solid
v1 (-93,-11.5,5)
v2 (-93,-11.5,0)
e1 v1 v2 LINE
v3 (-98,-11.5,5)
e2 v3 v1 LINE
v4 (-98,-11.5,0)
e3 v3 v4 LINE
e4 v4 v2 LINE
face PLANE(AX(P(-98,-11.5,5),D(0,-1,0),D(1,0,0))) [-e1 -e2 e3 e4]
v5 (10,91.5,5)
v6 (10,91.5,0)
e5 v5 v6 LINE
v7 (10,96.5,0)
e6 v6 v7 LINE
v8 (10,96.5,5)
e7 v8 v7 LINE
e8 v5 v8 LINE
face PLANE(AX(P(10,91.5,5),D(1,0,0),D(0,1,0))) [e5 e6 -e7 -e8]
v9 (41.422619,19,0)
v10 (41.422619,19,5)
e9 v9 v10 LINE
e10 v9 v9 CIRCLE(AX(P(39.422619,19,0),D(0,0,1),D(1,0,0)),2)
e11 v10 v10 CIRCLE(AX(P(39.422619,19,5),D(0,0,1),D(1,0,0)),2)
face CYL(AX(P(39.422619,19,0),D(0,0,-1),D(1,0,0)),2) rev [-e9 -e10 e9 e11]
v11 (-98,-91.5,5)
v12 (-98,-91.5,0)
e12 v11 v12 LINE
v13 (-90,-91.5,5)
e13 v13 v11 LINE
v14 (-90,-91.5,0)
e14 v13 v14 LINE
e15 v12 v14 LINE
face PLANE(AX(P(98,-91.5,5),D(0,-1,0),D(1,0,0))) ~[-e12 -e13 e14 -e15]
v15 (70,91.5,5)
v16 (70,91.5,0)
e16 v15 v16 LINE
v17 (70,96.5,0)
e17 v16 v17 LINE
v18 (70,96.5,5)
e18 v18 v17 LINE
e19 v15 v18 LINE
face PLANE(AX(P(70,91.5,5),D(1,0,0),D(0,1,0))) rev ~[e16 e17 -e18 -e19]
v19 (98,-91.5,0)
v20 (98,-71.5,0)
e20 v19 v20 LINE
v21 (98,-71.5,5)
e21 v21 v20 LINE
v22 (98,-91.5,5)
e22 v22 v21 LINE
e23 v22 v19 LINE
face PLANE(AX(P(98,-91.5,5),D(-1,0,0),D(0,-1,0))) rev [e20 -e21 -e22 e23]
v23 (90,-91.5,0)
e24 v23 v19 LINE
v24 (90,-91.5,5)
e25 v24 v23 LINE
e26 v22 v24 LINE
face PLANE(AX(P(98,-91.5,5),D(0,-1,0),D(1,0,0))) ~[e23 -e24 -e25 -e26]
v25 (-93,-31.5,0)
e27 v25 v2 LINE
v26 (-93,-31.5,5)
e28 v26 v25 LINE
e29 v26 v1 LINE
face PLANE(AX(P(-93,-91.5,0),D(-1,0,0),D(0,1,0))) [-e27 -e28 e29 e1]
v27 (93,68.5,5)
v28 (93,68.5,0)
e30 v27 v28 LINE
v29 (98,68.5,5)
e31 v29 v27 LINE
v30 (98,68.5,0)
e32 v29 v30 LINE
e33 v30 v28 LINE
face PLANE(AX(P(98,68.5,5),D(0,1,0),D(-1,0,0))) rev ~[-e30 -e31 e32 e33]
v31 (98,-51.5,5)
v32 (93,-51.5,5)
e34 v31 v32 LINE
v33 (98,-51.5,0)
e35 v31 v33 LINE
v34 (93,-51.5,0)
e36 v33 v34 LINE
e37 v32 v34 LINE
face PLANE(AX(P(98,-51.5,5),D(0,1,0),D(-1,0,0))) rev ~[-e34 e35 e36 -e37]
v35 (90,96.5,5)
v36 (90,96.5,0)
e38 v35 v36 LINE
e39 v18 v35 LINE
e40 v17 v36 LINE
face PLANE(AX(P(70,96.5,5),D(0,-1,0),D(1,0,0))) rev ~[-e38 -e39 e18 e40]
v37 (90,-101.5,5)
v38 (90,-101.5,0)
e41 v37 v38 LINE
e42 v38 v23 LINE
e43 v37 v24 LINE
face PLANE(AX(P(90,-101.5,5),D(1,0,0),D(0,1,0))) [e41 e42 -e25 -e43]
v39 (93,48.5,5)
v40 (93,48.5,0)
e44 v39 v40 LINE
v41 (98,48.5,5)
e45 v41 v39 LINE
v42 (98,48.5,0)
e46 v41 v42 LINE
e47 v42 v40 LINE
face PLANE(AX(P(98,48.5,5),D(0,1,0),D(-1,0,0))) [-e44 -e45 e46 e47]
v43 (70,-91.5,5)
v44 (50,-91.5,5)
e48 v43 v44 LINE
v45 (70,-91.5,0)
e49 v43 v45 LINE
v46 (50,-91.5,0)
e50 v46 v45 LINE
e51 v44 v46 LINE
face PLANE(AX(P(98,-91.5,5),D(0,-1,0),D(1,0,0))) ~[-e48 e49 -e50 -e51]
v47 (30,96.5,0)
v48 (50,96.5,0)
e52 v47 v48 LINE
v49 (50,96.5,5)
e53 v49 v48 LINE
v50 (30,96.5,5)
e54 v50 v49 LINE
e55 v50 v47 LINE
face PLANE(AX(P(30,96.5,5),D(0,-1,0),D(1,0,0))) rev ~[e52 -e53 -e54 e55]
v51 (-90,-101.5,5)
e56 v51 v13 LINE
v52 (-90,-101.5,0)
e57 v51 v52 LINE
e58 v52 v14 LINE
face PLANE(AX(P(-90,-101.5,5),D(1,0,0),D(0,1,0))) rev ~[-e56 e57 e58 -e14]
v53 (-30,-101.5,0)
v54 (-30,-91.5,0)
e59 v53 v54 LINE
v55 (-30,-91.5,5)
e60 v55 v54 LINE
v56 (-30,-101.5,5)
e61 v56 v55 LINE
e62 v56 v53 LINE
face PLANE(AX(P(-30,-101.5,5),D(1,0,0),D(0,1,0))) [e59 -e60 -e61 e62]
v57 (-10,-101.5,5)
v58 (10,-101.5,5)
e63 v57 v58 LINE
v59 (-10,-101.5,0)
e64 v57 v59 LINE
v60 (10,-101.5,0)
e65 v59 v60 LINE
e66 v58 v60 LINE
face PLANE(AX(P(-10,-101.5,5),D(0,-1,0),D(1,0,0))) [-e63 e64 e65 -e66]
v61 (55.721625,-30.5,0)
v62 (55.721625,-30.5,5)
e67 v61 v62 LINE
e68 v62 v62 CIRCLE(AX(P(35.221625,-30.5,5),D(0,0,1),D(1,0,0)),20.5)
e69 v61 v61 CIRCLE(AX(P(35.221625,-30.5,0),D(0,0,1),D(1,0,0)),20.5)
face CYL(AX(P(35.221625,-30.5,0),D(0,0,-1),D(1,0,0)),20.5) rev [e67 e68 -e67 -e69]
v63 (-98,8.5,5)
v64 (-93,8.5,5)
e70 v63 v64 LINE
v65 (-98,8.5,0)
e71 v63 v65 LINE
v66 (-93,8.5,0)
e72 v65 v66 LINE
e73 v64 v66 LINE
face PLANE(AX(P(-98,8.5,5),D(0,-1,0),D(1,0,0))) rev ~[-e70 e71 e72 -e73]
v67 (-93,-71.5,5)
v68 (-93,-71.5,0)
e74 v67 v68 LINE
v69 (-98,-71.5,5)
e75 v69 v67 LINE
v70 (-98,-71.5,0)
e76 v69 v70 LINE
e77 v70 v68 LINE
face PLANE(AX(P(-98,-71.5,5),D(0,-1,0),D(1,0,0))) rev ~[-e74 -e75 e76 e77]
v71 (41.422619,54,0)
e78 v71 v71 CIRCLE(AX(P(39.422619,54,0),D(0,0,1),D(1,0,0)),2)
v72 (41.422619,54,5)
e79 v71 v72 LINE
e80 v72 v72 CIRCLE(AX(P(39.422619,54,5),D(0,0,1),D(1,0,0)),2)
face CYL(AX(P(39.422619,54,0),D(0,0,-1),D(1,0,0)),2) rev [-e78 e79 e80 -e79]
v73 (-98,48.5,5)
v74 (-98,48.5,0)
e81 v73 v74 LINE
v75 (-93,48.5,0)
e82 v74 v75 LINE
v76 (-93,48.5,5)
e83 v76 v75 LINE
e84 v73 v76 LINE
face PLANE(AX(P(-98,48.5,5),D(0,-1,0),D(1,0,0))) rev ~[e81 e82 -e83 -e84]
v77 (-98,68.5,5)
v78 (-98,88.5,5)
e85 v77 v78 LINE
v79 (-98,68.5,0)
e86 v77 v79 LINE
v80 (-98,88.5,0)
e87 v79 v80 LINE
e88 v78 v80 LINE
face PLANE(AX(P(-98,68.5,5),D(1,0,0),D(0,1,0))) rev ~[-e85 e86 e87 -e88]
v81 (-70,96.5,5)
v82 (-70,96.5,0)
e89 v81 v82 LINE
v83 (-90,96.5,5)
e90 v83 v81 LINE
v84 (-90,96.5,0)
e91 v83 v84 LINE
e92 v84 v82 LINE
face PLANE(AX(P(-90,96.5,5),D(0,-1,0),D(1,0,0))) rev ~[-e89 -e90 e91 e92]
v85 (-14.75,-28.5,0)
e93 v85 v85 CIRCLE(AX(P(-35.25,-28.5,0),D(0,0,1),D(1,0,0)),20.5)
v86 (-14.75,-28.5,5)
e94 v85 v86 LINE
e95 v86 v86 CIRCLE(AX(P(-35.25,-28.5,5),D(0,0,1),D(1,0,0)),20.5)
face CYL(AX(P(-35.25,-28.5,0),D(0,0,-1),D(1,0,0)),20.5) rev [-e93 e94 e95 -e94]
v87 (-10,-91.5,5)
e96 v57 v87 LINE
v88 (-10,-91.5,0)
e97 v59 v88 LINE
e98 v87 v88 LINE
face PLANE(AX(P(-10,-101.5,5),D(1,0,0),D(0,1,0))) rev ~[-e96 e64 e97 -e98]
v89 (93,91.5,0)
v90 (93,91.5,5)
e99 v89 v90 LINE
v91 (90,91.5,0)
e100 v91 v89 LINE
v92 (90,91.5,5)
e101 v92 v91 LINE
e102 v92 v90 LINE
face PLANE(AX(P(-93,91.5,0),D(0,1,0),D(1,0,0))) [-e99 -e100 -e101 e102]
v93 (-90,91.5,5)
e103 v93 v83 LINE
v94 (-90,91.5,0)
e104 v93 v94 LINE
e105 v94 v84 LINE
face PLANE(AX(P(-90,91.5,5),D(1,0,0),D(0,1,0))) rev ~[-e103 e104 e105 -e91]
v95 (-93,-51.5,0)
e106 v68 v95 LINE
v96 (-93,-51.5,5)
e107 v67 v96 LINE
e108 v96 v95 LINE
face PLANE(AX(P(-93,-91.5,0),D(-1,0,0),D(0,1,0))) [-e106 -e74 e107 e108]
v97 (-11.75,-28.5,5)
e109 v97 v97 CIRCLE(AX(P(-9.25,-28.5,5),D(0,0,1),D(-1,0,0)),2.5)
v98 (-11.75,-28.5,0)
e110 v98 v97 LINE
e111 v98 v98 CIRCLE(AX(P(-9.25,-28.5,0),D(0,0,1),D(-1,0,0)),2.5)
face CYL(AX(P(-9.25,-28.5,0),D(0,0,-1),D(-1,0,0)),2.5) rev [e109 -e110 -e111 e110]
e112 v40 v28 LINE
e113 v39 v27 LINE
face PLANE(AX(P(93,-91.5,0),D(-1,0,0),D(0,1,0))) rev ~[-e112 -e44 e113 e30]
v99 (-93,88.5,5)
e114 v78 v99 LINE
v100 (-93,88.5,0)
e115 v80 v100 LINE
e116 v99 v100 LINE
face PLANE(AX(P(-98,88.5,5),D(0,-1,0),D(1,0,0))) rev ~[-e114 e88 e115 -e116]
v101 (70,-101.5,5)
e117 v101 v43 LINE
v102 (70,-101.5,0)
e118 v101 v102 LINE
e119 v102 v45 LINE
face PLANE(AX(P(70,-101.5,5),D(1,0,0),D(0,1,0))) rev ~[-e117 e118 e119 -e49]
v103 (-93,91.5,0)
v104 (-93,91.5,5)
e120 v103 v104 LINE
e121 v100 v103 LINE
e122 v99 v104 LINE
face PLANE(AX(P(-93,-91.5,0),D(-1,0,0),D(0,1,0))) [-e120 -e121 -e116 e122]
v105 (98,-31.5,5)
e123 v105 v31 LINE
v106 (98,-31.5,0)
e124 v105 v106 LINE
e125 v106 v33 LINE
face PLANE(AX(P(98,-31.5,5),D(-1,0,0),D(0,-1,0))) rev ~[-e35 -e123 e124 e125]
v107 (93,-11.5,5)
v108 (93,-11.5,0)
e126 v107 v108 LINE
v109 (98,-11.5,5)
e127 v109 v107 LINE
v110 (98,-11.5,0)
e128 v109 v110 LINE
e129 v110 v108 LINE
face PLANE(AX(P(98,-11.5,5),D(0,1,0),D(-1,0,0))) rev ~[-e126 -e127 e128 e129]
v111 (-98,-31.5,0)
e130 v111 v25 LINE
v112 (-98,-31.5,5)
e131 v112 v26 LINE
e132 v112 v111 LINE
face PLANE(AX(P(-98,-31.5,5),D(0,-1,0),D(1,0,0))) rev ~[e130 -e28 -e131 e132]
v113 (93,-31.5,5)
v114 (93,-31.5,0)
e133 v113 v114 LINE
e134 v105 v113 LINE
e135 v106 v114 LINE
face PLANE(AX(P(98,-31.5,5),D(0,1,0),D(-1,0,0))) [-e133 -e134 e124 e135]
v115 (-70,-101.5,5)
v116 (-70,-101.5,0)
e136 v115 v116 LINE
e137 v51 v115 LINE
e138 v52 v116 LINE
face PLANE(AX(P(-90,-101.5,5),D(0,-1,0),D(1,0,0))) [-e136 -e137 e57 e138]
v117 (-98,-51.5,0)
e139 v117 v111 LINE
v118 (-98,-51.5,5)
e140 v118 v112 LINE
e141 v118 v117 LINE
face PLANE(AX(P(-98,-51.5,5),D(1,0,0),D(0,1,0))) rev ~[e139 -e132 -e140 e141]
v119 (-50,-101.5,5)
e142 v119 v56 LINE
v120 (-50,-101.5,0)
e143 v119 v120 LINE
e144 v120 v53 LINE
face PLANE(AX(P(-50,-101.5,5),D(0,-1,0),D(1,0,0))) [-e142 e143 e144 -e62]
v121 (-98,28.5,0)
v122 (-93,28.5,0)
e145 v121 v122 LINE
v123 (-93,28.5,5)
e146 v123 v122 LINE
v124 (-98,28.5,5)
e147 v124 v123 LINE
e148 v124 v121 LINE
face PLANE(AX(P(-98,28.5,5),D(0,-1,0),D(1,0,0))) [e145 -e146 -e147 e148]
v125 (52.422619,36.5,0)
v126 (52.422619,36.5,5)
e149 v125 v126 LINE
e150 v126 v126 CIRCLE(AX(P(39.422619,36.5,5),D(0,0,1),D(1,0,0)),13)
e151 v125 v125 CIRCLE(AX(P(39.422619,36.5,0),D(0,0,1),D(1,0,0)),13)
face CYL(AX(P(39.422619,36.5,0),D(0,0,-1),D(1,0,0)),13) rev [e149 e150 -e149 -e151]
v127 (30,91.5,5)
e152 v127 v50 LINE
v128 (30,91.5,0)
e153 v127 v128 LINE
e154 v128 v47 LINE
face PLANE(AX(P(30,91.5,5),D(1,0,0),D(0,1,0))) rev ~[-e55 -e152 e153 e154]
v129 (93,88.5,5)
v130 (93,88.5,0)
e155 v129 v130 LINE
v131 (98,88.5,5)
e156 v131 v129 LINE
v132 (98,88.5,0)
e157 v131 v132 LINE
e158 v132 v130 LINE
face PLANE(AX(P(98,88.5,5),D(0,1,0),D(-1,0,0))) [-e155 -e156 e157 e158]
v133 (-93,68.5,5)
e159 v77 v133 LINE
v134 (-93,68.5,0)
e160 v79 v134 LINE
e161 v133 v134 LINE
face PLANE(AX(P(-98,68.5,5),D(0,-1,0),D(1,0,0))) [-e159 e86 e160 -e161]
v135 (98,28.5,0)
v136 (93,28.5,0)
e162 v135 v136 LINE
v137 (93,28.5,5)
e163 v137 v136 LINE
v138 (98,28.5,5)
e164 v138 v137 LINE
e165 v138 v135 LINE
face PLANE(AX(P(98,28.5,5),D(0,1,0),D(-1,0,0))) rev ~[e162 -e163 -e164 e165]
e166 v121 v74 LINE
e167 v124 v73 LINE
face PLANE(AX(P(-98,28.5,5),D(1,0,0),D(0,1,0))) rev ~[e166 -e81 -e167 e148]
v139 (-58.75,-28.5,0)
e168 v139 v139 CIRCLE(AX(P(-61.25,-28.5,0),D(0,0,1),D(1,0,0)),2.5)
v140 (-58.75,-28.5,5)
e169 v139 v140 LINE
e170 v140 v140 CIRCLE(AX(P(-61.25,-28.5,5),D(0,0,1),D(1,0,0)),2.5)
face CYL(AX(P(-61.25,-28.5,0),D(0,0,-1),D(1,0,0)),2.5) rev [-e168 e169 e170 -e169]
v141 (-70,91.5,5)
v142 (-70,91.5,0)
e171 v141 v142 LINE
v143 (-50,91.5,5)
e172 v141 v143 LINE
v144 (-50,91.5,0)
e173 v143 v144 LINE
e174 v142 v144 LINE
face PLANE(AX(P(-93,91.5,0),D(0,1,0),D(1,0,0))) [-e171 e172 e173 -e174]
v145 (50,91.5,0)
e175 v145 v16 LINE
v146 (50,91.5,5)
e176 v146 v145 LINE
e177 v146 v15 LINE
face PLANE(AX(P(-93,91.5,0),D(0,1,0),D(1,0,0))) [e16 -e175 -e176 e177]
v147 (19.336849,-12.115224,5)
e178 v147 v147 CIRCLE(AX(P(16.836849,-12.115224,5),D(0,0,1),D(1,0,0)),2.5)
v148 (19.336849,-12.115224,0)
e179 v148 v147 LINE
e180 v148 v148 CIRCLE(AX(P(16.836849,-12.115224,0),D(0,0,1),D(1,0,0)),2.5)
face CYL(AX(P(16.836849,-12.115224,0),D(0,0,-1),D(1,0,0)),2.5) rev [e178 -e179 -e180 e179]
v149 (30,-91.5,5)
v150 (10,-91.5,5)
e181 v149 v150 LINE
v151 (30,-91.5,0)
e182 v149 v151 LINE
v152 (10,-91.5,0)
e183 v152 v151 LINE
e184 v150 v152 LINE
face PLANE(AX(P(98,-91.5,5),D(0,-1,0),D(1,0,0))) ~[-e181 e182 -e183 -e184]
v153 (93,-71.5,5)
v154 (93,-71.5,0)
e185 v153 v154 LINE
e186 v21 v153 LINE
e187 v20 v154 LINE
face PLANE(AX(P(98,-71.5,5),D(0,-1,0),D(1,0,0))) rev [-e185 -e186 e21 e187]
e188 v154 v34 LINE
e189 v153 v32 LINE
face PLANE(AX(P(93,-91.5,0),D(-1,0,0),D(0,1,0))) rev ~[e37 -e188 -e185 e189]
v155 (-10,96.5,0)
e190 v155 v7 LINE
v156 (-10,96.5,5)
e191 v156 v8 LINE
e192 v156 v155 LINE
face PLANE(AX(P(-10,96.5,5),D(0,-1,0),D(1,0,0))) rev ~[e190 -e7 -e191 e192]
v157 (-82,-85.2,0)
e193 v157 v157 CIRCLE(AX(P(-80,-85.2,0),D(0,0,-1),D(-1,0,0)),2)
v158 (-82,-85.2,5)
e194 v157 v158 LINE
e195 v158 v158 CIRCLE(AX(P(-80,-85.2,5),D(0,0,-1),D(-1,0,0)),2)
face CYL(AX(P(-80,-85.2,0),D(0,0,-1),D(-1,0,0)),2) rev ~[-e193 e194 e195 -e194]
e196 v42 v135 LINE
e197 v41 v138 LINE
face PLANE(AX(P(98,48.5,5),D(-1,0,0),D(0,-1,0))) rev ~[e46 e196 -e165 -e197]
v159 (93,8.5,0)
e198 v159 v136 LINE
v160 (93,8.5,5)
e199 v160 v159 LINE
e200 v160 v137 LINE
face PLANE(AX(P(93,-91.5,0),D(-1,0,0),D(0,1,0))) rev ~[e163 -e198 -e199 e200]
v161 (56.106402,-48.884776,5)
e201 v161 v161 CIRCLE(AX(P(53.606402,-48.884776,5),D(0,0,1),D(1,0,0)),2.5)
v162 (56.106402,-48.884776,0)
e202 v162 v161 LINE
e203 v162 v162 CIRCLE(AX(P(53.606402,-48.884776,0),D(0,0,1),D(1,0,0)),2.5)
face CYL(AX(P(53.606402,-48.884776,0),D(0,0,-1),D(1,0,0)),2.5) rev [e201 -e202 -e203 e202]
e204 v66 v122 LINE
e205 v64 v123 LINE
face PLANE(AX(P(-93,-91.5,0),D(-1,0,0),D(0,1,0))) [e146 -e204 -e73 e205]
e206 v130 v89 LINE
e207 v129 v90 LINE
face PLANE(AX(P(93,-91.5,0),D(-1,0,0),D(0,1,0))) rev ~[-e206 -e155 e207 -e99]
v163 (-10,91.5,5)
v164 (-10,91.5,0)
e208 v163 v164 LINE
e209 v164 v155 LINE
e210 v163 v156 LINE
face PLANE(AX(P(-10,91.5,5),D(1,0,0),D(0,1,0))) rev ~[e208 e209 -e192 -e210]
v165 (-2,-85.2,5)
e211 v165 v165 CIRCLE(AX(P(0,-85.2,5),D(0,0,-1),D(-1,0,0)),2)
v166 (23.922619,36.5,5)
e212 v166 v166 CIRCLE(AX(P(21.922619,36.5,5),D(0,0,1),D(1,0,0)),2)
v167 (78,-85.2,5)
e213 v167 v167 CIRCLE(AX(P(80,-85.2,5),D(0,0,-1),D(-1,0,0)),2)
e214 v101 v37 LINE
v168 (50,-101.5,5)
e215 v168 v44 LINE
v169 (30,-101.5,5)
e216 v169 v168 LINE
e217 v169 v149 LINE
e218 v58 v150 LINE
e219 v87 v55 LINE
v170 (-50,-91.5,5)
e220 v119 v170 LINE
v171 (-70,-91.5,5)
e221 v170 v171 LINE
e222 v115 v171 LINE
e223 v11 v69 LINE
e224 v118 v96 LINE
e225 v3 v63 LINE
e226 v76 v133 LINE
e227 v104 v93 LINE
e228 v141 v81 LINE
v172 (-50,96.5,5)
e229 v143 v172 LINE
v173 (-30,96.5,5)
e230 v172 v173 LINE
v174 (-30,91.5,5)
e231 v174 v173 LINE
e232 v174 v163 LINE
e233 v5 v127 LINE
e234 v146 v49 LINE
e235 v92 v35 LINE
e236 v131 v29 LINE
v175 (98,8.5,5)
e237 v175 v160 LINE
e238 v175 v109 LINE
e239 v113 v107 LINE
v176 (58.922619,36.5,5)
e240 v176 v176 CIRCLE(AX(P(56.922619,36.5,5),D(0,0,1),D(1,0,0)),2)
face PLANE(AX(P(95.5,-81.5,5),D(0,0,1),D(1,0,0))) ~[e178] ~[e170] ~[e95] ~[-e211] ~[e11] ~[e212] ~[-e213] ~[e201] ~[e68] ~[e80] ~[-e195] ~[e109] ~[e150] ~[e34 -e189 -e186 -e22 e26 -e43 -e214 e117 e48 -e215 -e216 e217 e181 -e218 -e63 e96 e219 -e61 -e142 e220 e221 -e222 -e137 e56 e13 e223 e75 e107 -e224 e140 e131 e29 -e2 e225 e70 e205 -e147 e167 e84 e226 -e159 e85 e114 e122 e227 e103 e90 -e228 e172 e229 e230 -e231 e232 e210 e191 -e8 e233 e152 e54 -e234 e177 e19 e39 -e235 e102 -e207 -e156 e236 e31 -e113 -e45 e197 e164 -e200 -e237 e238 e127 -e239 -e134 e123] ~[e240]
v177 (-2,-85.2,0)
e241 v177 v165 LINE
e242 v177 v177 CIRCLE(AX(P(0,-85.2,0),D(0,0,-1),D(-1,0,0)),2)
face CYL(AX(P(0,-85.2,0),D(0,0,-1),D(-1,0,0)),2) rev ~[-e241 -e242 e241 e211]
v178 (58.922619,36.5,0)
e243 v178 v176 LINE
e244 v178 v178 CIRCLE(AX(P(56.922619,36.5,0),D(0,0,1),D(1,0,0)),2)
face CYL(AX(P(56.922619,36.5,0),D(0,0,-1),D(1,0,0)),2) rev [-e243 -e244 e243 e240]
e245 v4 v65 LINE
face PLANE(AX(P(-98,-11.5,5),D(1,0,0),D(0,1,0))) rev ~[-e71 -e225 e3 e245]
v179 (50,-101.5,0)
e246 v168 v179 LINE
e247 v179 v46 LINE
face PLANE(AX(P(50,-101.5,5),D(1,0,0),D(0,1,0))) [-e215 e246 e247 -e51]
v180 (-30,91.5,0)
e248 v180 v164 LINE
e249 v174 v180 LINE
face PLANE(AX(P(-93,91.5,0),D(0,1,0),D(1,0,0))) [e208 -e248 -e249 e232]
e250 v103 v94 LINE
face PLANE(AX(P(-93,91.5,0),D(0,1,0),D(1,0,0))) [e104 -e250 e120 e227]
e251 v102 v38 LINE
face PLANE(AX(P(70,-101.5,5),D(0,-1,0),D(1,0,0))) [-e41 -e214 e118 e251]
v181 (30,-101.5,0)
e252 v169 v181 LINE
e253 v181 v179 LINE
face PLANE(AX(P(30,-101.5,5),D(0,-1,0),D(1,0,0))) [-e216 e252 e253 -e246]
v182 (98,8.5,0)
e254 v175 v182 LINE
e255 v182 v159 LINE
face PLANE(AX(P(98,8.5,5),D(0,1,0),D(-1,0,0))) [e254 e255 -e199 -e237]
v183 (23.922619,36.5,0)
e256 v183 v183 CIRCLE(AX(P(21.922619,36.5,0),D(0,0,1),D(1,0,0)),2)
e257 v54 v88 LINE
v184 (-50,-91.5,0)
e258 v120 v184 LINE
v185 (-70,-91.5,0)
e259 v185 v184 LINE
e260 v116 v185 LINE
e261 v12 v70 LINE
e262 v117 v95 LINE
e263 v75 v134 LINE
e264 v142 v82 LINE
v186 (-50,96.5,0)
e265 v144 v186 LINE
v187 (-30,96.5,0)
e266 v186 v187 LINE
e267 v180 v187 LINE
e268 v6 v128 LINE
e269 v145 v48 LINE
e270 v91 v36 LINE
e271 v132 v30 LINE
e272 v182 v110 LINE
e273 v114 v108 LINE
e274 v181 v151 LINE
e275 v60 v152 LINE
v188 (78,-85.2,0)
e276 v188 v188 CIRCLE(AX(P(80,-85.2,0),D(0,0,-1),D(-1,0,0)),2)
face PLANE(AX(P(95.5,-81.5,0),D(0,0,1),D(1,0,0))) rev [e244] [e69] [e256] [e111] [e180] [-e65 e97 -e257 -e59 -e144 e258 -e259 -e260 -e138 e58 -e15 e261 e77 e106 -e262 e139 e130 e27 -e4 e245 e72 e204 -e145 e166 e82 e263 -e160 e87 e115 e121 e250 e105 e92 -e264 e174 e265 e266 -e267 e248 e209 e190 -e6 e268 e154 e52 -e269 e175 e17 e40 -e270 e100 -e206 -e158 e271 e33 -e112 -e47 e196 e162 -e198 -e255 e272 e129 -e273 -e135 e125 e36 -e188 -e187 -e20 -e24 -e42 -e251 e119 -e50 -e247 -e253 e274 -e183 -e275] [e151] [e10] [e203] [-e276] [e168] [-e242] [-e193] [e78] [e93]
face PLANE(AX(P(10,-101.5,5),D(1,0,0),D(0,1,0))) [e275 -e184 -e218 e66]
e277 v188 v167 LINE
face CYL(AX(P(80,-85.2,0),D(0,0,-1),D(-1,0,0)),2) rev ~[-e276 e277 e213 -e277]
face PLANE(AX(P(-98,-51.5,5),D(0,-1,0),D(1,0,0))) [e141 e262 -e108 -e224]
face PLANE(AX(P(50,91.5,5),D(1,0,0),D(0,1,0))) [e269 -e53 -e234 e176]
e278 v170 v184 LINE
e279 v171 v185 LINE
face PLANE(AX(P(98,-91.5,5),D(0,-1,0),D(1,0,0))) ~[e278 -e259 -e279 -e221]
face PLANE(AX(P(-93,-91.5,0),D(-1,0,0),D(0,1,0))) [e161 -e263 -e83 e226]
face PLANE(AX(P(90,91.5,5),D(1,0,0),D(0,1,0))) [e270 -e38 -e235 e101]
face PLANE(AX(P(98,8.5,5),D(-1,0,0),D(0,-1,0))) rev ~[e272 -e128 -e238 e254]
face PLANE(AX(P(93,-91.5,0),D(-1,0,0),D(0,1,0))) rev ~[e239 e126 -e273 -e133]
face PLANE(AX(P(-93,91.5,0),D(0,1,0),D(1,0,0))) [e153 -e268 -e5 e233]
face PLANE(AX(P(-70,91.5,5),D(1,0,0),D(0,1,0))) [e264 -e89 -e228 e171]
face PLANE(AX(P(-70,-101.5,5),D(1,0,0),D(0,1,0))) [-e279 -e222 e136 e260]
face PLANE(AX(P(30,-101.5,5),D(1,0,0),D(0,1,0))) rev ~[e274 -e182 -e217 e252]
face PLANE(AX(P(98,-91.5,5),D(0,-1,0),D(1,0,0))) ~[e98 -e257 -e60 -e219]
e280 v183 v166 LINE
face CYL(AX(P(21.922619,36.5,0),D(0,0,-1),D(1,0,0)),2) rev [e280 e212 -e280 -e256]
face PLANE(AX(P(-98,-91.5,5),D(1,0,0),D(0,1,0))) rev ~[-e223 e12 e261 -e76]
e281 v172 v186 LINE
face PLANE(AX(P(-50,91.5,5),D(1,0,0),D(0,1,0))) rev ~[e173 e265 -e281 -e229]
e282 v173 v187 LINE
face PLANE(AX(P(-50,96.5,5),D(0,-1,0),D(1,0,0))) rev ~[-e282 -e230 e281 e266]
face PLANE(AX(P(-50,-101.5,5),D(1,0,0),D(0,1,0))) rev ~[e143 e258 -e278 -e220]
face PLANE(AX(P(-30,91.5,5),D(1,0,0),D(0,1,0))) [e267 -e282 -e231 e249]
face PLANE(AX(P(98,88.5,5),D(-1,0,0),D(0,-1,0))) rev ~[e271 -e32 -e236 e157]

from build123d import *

# Parameters (mm, degrees)
SKETCH_1_W                       = 186
SKETCH_1_H                       = 183
SKETCH_1_R                       = 20.5
SKETCH_1_R_2                     = 2.5
SKETCH_1_R_3                     = 2
SKETCH_1_R_4                     = 13
EXTRUDE_1_DEPTH                  = 5
SKETCH_2_W                       = 5
SKETCH_2_H                       = 20
EXTRUDE_2_DEPTH                  = 5
PATTERN_LINEAR_1_COUNT           = 5
PATTERN_LINEAR_1_PITCH           = 40
MIRROR_1_COPY_1_SKETCH_W         = 5
MIRROR_1_COPY_1_SKETCH_H         = 20
MIRROR_1_COPY_1_DEPTH            = 5
MIRROR_1_COPY_2_SKETCH_W         = 5
MIRROR_1_COPY_2_SKETCH_H         = 20
MIRROR_1_COPY_2_DEPTH            = 5
MIRROR_1_COPY_3_SKETCH_W         = 5
MIRROR_1_COPY_3_SKETCH_H         = 20
MIRROR_1_COPY_3_DEPTH            = 5
MIRROR_1_COPY_4_SKETCH_W         = 5
MIRROR_1_COPY_4_SKETCH_H         = 20
MIRROR_1_COPY_4_DEPTH            = 5
SKETCH_3_W                       = 20
SKETCH_3_H                       = 5
EXTRUDE_3_DEPTH                  = 5
PATTERN_LINEAR_2_COUNT           = 3
PATTERN_LINEAR_2_PITCH           = 40
PATTERN_LINEAR_3_COUNT           = 3
PATTERN_LINEAR_3_PITCH           = 40
SKETCH_4_W                       = 20
SKETCH_4_H                       = 10
EXTRUDE_4_DEPTH                  = 5
PATTERN_LINEAR_4_COUNT           = 3
PATTERN_LINEAR_4_PITCH           = 40
PATTERN_LINEAR_5_COPY_1_SKETCH_W = 20
PATTERN_LINEAR_5_COPY_1_SKETCH_H = 10
PATTERN_LINEAR_5_COPY_1_DEPTH    = 5
PATTERN_LINEAR_5_COPY_2_SKETCH_W = 20
PATTERN_LINEAR_5_COPY_2_SKETCH_H = 10
PATTERN_LINEAR_5_COPY_2_DEPTH    = 5
PATTERN_LINEAR_5_COPY_3_SKETCH_W = 20
PATTERN_LINEAR_5_COPY_3_SKETCH_H = 10
PATTERN_LINEAR_5_COPY_3_DEPTH    = 5
PATTERN_LINEAR_5_COPY_4_SKETCH_W = 20
PATTERN_LINEAR_5_COPY_4_SKETCH_H = 10
PATTERN_LINEAR_5_COPY_4_DEPTH    = 5
PATTERN_LINEAR_5_COPY_5_SKETCH_W = 20
PATTERN_LINEAR_5_COPY_5_SKETCH_H = 10
PATTERN_LINEAR_5_COPY_5_DEPTH    = 5
PATTERN_LINEAR_5_COPY_6_SKETCH_W = 20
PATTERN_LINEAR_5_COPY_6_SKETCH_H = 10
PATTERN_LINEAR_5_COPY_6_DEPTH    = 5
CUT_EXTRUDE_1_REACH              = 143.178
SKETCH_5_R                       = 2
PATTERN_LINEAR_6_COUNT           = 2
PATTERN_LINEAR_6_PITCH           = 80
PATTERN_LINEAR_7_COUNT           = 2
PATTERN_LINEAR_7_PITCH           = 80


with BuildPart() as part:
    # 스케치1 → 보스-돌출1 (new body)
    with BuildSketch(Plane.XY):
        Rectangle(SKETCH_1_W, SKETCH_1_H)
        with Locations((-35.25, -28.5)):
            Circle(SKETCH_1_R, mode=Mode.SUBTRACT)
        with Locations((-61.25, -28.5)):
            Circle(SKETCH_1_R_2, mode=Mode.SUBTRACT)
        with Locations(Location((-9.25, -28.5, 0), (0, 0, 180))):
            Circle(SKETCH_1_R_2, mode=Mode.SUBTRACT)
        with Locations((35.221625496, -30.5)):
            Circle(SKETCH_1_R, mode=Mode.SUBTRACT)
        with Locations((16.836849185, -12.115223689)):
            Circle(SKETCH_1_R_2, mode=Mode.SUBTRACT)
        with Locations((53.606401807, -48.884776311)):
            Circle(SKETCH_1_R_2, mode=Mode.SUBTRACT)
        with Locations((39.42261881, 19)):
            Circle(SKETCH_1_R_3, mode=Mode.SUBTRACT)
        with Locations((39.42261881, 36.5)):
            Circle(SKETCH_1_R_4, mode=Mode.SUBTRACT)
        with Locations((21.92261881, 36.5)):
            Circle(SKETCH_1_R_3, mode=Mode.SUBTRACT)
        with Locations((39.42261881, 54)):
            Circle(SKETCH_1_R_3, mode=Mode.SUBTRACT)
        with Locations((56.92261881, 36.5)):
            Circle(SKETCH_1_R_3, mode=Mode.SUBTRACT)
    extrude(amount=EXTRUDE_1_DEPTH)

    # 스케치2 → 보스-돌출2 (add)
    with BuildSketch(Plane.XY.offset(5)):
        with Locations((-95.5, -81.5)):
            Rectangle(SKETCH_2_W, SKETCH_2_H)
    extrude_2 = extrude(amount=-EXTRUDE_2_DEPTH)

    # 선형 패턴1: 보스-돌출2 ×5
    with Locations(*[(0, i * PATTERN_LINEAR_1_PITCH, 0) for i in range(1, PATTERN_LINEAR_1_COUNT)]):
        add(extrude_2)

    # 대칭 복사1: 보스-돌출2 across plane
    add(extrude_2.mirror(Plane(origin=(0, 0, 0), x_dir=(0, 0, 1), z_dir=(1, 0, 0))))

    # 대칭 복사1 copy 1 sketch → 대칭 복사1 copy 1 (add)
    with BuildSketch(Plane(origin=(0, 40, 5), x_dir=(-1, 0, 0), z_dir=(0, 0, 1))):
        with Locations((-95.5, 81.5)):
            Rectangle(MIRROR_1_COPY_1_SKETCH_W, MIRROR_1_COPY_1_SKETCH_H)
    extrude(amount=-MIRROR_1_COPY_1_DEPTH)

    # 대칭 복사1 copy 2 sketch → 대칭 복사1 copy 2 (add)
    with BuildSketch(Plane(origin=(0, 80, 5), x_dir=(-1, 0, 0), z_dir=(0, 0, 1))):
        with Locations((-95.5, 81.5)):
            Rectangle(MIRROR_1_COPY_2_SKETCH_W, MIRROR_1_COPY_2_SKETCH_H)
    extrude(amount=-MIRROR_1_COPY_2_DEPTH)

    # 대칭 복사1 copy 3 sketch → 대칭 복사1 copy 3 (add)
    with BuildSketch(Plane(origin=(0, 120, 5), x_dir=(-1, 0, 0), z_dir=(0, 0, 1))):
        with Locations((-95.5, 81.5)):
            Rectangle(MIRROR_1_COPY_3_SKETCH_W, MIRROR_1_COPY_3_SKETCH_H)
    extrude(amount=-MIRROR_1_COPY_3_DEPTH)

    # 대칭 복사1 copy 4 sketch → 대칭 복사1 copy 4 (add)
    with BuildSketch(Plane(origin=(0, 160, 5), x_dir=(-1, 0, 0), z_dir=(0, 0, 1))):
        with Locations((-95.5, 81.5)):
            Rectangle(MIRROR_1_COPY_4_SKETCH_W, MIRROR_1_COPY_4_SKETCH_H)
    extrude(amount=-MIRROR_1_COPY_4_DEPTH)

    # 스케치3 → 보스-돌출3 (add)
    with BuildSketch(Plane.XY.offset(5)):
        with Locations((0, 94)):
            Rectangle(SKETCH_3_W, SKETCH_3_H)
    extrude_3 = extrude(amount=-EXTRUDE_3_DEPTH)

    # 선형 패턴2: 보스-돌출3 ×3
    with Locations(*[(i * PATTERN_LINEAR_2_PITCH, 0, 0) for i in range(1, PATTERN_LINEAR_2_COUNT)]):
        add(extrude_3)

    # 선형 패턴3: 보스-돌출3 ×3
    with Locations(*[(-i * PATTERN_LINEAR_3_PITCH, 0, 0) for i in range(1, PATTERN_LINEAR_3_COUNT)]):
        add(extrude_3)

    # 스케치4 → 보스-돌출4 (add)
    with BuildSketch(Plane.XY.offset(5)):
        with Locations((0, -96.5)):
            Rectangle(SKETCH_4_W, SKETCH_4_H)
    extrude_4 = extrude(amount=-EXTRUDE_4_DEPTH)

    # 선형 패턴4: 보스-돌출4 ×3
    with Locations(*[(i * PATTERN_LINEAR_4_PITCH, 0, 0) for i in range(1, PATTERN_LINEAR_4_COUNT)]):
        add(extrude_4)

    # 선형 패턴5 copy 1 sketch → 선형 패턴5 copy 1 (add)
    with BuildSketch(Plane.XY.offset(5)):
        with Locations((0, -96.5)):
            Rectangle(PATTERN_LINEAR_5_COPY_1_SKETCH_W, PATTERN_LINEAR_5_COPY_1_SKETCH_H)
    extrude(amount=-PATTERN_LINEAR_5_COPY_1_DEPTH)

    # 선형 패턴5 copy 2 sketch → 선형 패턴5 copy 2 (add)
    with BuildSketch(Plane(origin=(-40, 0, 5), x_dir=(1, 0, 0), z_dir=(0, 0, 1))):
        with Locations((0, -96.5)):
            Rectangle(PATTERN_LINEAR_5_COPY_2_SKETCH_W, PATTERN_LINEAR_5_COPY_2_SKETCH_H)
    extrude(amount=-PATTERN_LINEAR_5_COPY_2_DEPTH)

    # 선형 패턴5 copy 3 sketch → 선형 패턴5 copy 3 (add)
    with BuildSketch(Plane(origin=(40, 0, 5), x_dir=(1, 0, 0), z_dir=(0, 0, 1))):
        with Locations((0, -96.5)):
            Rectangle(PATTERN_LINEAR_5_COPY_3_SKETCH_W, PATTERN_LINEAR_5_COPY_3_SKETCH_H)
    extrude(amount=-PATTERN_LINEAR_5_COPY_3_DEPTH)

    # 선형 패턴5 copy 4 sketch → 선형 패턴5 copy 4 (add)
    with BuildSketch(Plane.XY.offset(5)):
        with Locations((0, -96.5)):
            Rectangle(PATTERN_LINEAR_5_COPY_4_SKETCH_W, PATTERN_LINEAR_5_COPY_4_SKETCH_H)
    extrude(amount=-PATTERN_LINEAR_5_COPY_4_DEPTH)

    # 선형 패턴5 copy 5 sketch → 선형 패턴5 copy 5 (add)
    with BuildSketch(Plane(origin=(-40, 0, 5), x_dir=(1, 0, 0), z_dir=(0, 0, 1))):
        with Locations((0, -96.5)):
            Rectangle(PATTERN_LINEAR_5_COPY_5_SKETCH_W, PATTERN_LINEAR_5_COPY_5_SKETCH_H)
    extrude(amount=-PATTERN_LINEAR_5_COPY_5_DEPTH)

    # 선형 패턴5 copy 6 sketch → 선형 패턴5 copy 6 (add)
    with BuildSketch(Plane(origin=(-80, 0, 5), x_dir=(1, 0, 0), z_dir=(0, 0, 1))):
        with Locations((0, -96.5)):
            Rectangle(PATTERN_LINEAR_5_COPY_6_SKETCH_W, PATTERN_LINEAR_5_COPY_6_SKETCH_H)
    extrude(amount=-PATTERN_LINEAR_5_COPY_6_DEPTH)

    # 스케치5 → 컷-돌출1 (cut, up to next)
    with BuildSketch(Plane(origin=(0, 0, 0), x_dir=(-1, 0, 0), z_dir=(0, 0, -1)), mode=Mode.PRIVATE) as cut_extrude_1_sk1:
        with Locations((0, -85.2)):
            Circle(SKETCH_5_R)
    cut_extrude_1_tool1 = extrude(cut_extrude_1_sk1.sketch, amount=-CUT_EXTRUDE_1_REACH, mode=Mode.PRIVATE) & part.part
    cut_extrude_1 = cut_extrude_1_tool1.solids().sort_by_distance((0, -85.2, 0))[0]
    add(cut_extrude_1, mode=Mode.SUBTRACT)

    # 선형 패턴6: 컷-돌출1 ×2
    with Locations(*[(i * PATTERN_LINEAR_6_PITCH, 0, 0) for i in range(1, PATTERN_LINEAR_6_COUNT)]):
        add(cut_extrude_1, mode=Mode.SUBTRACT)

    # 선형 패턴7: 컷-돌출1 ×2
    with Locations(*[(-i * PATTERN_LINEAR_7_PITCH, 0, 0) for i in range(1, PATTERN_LINEAR_7_COUNT)]):
        add(cut_extrude_1, mode=Mode.SUBTRACT)


solid = part.part
